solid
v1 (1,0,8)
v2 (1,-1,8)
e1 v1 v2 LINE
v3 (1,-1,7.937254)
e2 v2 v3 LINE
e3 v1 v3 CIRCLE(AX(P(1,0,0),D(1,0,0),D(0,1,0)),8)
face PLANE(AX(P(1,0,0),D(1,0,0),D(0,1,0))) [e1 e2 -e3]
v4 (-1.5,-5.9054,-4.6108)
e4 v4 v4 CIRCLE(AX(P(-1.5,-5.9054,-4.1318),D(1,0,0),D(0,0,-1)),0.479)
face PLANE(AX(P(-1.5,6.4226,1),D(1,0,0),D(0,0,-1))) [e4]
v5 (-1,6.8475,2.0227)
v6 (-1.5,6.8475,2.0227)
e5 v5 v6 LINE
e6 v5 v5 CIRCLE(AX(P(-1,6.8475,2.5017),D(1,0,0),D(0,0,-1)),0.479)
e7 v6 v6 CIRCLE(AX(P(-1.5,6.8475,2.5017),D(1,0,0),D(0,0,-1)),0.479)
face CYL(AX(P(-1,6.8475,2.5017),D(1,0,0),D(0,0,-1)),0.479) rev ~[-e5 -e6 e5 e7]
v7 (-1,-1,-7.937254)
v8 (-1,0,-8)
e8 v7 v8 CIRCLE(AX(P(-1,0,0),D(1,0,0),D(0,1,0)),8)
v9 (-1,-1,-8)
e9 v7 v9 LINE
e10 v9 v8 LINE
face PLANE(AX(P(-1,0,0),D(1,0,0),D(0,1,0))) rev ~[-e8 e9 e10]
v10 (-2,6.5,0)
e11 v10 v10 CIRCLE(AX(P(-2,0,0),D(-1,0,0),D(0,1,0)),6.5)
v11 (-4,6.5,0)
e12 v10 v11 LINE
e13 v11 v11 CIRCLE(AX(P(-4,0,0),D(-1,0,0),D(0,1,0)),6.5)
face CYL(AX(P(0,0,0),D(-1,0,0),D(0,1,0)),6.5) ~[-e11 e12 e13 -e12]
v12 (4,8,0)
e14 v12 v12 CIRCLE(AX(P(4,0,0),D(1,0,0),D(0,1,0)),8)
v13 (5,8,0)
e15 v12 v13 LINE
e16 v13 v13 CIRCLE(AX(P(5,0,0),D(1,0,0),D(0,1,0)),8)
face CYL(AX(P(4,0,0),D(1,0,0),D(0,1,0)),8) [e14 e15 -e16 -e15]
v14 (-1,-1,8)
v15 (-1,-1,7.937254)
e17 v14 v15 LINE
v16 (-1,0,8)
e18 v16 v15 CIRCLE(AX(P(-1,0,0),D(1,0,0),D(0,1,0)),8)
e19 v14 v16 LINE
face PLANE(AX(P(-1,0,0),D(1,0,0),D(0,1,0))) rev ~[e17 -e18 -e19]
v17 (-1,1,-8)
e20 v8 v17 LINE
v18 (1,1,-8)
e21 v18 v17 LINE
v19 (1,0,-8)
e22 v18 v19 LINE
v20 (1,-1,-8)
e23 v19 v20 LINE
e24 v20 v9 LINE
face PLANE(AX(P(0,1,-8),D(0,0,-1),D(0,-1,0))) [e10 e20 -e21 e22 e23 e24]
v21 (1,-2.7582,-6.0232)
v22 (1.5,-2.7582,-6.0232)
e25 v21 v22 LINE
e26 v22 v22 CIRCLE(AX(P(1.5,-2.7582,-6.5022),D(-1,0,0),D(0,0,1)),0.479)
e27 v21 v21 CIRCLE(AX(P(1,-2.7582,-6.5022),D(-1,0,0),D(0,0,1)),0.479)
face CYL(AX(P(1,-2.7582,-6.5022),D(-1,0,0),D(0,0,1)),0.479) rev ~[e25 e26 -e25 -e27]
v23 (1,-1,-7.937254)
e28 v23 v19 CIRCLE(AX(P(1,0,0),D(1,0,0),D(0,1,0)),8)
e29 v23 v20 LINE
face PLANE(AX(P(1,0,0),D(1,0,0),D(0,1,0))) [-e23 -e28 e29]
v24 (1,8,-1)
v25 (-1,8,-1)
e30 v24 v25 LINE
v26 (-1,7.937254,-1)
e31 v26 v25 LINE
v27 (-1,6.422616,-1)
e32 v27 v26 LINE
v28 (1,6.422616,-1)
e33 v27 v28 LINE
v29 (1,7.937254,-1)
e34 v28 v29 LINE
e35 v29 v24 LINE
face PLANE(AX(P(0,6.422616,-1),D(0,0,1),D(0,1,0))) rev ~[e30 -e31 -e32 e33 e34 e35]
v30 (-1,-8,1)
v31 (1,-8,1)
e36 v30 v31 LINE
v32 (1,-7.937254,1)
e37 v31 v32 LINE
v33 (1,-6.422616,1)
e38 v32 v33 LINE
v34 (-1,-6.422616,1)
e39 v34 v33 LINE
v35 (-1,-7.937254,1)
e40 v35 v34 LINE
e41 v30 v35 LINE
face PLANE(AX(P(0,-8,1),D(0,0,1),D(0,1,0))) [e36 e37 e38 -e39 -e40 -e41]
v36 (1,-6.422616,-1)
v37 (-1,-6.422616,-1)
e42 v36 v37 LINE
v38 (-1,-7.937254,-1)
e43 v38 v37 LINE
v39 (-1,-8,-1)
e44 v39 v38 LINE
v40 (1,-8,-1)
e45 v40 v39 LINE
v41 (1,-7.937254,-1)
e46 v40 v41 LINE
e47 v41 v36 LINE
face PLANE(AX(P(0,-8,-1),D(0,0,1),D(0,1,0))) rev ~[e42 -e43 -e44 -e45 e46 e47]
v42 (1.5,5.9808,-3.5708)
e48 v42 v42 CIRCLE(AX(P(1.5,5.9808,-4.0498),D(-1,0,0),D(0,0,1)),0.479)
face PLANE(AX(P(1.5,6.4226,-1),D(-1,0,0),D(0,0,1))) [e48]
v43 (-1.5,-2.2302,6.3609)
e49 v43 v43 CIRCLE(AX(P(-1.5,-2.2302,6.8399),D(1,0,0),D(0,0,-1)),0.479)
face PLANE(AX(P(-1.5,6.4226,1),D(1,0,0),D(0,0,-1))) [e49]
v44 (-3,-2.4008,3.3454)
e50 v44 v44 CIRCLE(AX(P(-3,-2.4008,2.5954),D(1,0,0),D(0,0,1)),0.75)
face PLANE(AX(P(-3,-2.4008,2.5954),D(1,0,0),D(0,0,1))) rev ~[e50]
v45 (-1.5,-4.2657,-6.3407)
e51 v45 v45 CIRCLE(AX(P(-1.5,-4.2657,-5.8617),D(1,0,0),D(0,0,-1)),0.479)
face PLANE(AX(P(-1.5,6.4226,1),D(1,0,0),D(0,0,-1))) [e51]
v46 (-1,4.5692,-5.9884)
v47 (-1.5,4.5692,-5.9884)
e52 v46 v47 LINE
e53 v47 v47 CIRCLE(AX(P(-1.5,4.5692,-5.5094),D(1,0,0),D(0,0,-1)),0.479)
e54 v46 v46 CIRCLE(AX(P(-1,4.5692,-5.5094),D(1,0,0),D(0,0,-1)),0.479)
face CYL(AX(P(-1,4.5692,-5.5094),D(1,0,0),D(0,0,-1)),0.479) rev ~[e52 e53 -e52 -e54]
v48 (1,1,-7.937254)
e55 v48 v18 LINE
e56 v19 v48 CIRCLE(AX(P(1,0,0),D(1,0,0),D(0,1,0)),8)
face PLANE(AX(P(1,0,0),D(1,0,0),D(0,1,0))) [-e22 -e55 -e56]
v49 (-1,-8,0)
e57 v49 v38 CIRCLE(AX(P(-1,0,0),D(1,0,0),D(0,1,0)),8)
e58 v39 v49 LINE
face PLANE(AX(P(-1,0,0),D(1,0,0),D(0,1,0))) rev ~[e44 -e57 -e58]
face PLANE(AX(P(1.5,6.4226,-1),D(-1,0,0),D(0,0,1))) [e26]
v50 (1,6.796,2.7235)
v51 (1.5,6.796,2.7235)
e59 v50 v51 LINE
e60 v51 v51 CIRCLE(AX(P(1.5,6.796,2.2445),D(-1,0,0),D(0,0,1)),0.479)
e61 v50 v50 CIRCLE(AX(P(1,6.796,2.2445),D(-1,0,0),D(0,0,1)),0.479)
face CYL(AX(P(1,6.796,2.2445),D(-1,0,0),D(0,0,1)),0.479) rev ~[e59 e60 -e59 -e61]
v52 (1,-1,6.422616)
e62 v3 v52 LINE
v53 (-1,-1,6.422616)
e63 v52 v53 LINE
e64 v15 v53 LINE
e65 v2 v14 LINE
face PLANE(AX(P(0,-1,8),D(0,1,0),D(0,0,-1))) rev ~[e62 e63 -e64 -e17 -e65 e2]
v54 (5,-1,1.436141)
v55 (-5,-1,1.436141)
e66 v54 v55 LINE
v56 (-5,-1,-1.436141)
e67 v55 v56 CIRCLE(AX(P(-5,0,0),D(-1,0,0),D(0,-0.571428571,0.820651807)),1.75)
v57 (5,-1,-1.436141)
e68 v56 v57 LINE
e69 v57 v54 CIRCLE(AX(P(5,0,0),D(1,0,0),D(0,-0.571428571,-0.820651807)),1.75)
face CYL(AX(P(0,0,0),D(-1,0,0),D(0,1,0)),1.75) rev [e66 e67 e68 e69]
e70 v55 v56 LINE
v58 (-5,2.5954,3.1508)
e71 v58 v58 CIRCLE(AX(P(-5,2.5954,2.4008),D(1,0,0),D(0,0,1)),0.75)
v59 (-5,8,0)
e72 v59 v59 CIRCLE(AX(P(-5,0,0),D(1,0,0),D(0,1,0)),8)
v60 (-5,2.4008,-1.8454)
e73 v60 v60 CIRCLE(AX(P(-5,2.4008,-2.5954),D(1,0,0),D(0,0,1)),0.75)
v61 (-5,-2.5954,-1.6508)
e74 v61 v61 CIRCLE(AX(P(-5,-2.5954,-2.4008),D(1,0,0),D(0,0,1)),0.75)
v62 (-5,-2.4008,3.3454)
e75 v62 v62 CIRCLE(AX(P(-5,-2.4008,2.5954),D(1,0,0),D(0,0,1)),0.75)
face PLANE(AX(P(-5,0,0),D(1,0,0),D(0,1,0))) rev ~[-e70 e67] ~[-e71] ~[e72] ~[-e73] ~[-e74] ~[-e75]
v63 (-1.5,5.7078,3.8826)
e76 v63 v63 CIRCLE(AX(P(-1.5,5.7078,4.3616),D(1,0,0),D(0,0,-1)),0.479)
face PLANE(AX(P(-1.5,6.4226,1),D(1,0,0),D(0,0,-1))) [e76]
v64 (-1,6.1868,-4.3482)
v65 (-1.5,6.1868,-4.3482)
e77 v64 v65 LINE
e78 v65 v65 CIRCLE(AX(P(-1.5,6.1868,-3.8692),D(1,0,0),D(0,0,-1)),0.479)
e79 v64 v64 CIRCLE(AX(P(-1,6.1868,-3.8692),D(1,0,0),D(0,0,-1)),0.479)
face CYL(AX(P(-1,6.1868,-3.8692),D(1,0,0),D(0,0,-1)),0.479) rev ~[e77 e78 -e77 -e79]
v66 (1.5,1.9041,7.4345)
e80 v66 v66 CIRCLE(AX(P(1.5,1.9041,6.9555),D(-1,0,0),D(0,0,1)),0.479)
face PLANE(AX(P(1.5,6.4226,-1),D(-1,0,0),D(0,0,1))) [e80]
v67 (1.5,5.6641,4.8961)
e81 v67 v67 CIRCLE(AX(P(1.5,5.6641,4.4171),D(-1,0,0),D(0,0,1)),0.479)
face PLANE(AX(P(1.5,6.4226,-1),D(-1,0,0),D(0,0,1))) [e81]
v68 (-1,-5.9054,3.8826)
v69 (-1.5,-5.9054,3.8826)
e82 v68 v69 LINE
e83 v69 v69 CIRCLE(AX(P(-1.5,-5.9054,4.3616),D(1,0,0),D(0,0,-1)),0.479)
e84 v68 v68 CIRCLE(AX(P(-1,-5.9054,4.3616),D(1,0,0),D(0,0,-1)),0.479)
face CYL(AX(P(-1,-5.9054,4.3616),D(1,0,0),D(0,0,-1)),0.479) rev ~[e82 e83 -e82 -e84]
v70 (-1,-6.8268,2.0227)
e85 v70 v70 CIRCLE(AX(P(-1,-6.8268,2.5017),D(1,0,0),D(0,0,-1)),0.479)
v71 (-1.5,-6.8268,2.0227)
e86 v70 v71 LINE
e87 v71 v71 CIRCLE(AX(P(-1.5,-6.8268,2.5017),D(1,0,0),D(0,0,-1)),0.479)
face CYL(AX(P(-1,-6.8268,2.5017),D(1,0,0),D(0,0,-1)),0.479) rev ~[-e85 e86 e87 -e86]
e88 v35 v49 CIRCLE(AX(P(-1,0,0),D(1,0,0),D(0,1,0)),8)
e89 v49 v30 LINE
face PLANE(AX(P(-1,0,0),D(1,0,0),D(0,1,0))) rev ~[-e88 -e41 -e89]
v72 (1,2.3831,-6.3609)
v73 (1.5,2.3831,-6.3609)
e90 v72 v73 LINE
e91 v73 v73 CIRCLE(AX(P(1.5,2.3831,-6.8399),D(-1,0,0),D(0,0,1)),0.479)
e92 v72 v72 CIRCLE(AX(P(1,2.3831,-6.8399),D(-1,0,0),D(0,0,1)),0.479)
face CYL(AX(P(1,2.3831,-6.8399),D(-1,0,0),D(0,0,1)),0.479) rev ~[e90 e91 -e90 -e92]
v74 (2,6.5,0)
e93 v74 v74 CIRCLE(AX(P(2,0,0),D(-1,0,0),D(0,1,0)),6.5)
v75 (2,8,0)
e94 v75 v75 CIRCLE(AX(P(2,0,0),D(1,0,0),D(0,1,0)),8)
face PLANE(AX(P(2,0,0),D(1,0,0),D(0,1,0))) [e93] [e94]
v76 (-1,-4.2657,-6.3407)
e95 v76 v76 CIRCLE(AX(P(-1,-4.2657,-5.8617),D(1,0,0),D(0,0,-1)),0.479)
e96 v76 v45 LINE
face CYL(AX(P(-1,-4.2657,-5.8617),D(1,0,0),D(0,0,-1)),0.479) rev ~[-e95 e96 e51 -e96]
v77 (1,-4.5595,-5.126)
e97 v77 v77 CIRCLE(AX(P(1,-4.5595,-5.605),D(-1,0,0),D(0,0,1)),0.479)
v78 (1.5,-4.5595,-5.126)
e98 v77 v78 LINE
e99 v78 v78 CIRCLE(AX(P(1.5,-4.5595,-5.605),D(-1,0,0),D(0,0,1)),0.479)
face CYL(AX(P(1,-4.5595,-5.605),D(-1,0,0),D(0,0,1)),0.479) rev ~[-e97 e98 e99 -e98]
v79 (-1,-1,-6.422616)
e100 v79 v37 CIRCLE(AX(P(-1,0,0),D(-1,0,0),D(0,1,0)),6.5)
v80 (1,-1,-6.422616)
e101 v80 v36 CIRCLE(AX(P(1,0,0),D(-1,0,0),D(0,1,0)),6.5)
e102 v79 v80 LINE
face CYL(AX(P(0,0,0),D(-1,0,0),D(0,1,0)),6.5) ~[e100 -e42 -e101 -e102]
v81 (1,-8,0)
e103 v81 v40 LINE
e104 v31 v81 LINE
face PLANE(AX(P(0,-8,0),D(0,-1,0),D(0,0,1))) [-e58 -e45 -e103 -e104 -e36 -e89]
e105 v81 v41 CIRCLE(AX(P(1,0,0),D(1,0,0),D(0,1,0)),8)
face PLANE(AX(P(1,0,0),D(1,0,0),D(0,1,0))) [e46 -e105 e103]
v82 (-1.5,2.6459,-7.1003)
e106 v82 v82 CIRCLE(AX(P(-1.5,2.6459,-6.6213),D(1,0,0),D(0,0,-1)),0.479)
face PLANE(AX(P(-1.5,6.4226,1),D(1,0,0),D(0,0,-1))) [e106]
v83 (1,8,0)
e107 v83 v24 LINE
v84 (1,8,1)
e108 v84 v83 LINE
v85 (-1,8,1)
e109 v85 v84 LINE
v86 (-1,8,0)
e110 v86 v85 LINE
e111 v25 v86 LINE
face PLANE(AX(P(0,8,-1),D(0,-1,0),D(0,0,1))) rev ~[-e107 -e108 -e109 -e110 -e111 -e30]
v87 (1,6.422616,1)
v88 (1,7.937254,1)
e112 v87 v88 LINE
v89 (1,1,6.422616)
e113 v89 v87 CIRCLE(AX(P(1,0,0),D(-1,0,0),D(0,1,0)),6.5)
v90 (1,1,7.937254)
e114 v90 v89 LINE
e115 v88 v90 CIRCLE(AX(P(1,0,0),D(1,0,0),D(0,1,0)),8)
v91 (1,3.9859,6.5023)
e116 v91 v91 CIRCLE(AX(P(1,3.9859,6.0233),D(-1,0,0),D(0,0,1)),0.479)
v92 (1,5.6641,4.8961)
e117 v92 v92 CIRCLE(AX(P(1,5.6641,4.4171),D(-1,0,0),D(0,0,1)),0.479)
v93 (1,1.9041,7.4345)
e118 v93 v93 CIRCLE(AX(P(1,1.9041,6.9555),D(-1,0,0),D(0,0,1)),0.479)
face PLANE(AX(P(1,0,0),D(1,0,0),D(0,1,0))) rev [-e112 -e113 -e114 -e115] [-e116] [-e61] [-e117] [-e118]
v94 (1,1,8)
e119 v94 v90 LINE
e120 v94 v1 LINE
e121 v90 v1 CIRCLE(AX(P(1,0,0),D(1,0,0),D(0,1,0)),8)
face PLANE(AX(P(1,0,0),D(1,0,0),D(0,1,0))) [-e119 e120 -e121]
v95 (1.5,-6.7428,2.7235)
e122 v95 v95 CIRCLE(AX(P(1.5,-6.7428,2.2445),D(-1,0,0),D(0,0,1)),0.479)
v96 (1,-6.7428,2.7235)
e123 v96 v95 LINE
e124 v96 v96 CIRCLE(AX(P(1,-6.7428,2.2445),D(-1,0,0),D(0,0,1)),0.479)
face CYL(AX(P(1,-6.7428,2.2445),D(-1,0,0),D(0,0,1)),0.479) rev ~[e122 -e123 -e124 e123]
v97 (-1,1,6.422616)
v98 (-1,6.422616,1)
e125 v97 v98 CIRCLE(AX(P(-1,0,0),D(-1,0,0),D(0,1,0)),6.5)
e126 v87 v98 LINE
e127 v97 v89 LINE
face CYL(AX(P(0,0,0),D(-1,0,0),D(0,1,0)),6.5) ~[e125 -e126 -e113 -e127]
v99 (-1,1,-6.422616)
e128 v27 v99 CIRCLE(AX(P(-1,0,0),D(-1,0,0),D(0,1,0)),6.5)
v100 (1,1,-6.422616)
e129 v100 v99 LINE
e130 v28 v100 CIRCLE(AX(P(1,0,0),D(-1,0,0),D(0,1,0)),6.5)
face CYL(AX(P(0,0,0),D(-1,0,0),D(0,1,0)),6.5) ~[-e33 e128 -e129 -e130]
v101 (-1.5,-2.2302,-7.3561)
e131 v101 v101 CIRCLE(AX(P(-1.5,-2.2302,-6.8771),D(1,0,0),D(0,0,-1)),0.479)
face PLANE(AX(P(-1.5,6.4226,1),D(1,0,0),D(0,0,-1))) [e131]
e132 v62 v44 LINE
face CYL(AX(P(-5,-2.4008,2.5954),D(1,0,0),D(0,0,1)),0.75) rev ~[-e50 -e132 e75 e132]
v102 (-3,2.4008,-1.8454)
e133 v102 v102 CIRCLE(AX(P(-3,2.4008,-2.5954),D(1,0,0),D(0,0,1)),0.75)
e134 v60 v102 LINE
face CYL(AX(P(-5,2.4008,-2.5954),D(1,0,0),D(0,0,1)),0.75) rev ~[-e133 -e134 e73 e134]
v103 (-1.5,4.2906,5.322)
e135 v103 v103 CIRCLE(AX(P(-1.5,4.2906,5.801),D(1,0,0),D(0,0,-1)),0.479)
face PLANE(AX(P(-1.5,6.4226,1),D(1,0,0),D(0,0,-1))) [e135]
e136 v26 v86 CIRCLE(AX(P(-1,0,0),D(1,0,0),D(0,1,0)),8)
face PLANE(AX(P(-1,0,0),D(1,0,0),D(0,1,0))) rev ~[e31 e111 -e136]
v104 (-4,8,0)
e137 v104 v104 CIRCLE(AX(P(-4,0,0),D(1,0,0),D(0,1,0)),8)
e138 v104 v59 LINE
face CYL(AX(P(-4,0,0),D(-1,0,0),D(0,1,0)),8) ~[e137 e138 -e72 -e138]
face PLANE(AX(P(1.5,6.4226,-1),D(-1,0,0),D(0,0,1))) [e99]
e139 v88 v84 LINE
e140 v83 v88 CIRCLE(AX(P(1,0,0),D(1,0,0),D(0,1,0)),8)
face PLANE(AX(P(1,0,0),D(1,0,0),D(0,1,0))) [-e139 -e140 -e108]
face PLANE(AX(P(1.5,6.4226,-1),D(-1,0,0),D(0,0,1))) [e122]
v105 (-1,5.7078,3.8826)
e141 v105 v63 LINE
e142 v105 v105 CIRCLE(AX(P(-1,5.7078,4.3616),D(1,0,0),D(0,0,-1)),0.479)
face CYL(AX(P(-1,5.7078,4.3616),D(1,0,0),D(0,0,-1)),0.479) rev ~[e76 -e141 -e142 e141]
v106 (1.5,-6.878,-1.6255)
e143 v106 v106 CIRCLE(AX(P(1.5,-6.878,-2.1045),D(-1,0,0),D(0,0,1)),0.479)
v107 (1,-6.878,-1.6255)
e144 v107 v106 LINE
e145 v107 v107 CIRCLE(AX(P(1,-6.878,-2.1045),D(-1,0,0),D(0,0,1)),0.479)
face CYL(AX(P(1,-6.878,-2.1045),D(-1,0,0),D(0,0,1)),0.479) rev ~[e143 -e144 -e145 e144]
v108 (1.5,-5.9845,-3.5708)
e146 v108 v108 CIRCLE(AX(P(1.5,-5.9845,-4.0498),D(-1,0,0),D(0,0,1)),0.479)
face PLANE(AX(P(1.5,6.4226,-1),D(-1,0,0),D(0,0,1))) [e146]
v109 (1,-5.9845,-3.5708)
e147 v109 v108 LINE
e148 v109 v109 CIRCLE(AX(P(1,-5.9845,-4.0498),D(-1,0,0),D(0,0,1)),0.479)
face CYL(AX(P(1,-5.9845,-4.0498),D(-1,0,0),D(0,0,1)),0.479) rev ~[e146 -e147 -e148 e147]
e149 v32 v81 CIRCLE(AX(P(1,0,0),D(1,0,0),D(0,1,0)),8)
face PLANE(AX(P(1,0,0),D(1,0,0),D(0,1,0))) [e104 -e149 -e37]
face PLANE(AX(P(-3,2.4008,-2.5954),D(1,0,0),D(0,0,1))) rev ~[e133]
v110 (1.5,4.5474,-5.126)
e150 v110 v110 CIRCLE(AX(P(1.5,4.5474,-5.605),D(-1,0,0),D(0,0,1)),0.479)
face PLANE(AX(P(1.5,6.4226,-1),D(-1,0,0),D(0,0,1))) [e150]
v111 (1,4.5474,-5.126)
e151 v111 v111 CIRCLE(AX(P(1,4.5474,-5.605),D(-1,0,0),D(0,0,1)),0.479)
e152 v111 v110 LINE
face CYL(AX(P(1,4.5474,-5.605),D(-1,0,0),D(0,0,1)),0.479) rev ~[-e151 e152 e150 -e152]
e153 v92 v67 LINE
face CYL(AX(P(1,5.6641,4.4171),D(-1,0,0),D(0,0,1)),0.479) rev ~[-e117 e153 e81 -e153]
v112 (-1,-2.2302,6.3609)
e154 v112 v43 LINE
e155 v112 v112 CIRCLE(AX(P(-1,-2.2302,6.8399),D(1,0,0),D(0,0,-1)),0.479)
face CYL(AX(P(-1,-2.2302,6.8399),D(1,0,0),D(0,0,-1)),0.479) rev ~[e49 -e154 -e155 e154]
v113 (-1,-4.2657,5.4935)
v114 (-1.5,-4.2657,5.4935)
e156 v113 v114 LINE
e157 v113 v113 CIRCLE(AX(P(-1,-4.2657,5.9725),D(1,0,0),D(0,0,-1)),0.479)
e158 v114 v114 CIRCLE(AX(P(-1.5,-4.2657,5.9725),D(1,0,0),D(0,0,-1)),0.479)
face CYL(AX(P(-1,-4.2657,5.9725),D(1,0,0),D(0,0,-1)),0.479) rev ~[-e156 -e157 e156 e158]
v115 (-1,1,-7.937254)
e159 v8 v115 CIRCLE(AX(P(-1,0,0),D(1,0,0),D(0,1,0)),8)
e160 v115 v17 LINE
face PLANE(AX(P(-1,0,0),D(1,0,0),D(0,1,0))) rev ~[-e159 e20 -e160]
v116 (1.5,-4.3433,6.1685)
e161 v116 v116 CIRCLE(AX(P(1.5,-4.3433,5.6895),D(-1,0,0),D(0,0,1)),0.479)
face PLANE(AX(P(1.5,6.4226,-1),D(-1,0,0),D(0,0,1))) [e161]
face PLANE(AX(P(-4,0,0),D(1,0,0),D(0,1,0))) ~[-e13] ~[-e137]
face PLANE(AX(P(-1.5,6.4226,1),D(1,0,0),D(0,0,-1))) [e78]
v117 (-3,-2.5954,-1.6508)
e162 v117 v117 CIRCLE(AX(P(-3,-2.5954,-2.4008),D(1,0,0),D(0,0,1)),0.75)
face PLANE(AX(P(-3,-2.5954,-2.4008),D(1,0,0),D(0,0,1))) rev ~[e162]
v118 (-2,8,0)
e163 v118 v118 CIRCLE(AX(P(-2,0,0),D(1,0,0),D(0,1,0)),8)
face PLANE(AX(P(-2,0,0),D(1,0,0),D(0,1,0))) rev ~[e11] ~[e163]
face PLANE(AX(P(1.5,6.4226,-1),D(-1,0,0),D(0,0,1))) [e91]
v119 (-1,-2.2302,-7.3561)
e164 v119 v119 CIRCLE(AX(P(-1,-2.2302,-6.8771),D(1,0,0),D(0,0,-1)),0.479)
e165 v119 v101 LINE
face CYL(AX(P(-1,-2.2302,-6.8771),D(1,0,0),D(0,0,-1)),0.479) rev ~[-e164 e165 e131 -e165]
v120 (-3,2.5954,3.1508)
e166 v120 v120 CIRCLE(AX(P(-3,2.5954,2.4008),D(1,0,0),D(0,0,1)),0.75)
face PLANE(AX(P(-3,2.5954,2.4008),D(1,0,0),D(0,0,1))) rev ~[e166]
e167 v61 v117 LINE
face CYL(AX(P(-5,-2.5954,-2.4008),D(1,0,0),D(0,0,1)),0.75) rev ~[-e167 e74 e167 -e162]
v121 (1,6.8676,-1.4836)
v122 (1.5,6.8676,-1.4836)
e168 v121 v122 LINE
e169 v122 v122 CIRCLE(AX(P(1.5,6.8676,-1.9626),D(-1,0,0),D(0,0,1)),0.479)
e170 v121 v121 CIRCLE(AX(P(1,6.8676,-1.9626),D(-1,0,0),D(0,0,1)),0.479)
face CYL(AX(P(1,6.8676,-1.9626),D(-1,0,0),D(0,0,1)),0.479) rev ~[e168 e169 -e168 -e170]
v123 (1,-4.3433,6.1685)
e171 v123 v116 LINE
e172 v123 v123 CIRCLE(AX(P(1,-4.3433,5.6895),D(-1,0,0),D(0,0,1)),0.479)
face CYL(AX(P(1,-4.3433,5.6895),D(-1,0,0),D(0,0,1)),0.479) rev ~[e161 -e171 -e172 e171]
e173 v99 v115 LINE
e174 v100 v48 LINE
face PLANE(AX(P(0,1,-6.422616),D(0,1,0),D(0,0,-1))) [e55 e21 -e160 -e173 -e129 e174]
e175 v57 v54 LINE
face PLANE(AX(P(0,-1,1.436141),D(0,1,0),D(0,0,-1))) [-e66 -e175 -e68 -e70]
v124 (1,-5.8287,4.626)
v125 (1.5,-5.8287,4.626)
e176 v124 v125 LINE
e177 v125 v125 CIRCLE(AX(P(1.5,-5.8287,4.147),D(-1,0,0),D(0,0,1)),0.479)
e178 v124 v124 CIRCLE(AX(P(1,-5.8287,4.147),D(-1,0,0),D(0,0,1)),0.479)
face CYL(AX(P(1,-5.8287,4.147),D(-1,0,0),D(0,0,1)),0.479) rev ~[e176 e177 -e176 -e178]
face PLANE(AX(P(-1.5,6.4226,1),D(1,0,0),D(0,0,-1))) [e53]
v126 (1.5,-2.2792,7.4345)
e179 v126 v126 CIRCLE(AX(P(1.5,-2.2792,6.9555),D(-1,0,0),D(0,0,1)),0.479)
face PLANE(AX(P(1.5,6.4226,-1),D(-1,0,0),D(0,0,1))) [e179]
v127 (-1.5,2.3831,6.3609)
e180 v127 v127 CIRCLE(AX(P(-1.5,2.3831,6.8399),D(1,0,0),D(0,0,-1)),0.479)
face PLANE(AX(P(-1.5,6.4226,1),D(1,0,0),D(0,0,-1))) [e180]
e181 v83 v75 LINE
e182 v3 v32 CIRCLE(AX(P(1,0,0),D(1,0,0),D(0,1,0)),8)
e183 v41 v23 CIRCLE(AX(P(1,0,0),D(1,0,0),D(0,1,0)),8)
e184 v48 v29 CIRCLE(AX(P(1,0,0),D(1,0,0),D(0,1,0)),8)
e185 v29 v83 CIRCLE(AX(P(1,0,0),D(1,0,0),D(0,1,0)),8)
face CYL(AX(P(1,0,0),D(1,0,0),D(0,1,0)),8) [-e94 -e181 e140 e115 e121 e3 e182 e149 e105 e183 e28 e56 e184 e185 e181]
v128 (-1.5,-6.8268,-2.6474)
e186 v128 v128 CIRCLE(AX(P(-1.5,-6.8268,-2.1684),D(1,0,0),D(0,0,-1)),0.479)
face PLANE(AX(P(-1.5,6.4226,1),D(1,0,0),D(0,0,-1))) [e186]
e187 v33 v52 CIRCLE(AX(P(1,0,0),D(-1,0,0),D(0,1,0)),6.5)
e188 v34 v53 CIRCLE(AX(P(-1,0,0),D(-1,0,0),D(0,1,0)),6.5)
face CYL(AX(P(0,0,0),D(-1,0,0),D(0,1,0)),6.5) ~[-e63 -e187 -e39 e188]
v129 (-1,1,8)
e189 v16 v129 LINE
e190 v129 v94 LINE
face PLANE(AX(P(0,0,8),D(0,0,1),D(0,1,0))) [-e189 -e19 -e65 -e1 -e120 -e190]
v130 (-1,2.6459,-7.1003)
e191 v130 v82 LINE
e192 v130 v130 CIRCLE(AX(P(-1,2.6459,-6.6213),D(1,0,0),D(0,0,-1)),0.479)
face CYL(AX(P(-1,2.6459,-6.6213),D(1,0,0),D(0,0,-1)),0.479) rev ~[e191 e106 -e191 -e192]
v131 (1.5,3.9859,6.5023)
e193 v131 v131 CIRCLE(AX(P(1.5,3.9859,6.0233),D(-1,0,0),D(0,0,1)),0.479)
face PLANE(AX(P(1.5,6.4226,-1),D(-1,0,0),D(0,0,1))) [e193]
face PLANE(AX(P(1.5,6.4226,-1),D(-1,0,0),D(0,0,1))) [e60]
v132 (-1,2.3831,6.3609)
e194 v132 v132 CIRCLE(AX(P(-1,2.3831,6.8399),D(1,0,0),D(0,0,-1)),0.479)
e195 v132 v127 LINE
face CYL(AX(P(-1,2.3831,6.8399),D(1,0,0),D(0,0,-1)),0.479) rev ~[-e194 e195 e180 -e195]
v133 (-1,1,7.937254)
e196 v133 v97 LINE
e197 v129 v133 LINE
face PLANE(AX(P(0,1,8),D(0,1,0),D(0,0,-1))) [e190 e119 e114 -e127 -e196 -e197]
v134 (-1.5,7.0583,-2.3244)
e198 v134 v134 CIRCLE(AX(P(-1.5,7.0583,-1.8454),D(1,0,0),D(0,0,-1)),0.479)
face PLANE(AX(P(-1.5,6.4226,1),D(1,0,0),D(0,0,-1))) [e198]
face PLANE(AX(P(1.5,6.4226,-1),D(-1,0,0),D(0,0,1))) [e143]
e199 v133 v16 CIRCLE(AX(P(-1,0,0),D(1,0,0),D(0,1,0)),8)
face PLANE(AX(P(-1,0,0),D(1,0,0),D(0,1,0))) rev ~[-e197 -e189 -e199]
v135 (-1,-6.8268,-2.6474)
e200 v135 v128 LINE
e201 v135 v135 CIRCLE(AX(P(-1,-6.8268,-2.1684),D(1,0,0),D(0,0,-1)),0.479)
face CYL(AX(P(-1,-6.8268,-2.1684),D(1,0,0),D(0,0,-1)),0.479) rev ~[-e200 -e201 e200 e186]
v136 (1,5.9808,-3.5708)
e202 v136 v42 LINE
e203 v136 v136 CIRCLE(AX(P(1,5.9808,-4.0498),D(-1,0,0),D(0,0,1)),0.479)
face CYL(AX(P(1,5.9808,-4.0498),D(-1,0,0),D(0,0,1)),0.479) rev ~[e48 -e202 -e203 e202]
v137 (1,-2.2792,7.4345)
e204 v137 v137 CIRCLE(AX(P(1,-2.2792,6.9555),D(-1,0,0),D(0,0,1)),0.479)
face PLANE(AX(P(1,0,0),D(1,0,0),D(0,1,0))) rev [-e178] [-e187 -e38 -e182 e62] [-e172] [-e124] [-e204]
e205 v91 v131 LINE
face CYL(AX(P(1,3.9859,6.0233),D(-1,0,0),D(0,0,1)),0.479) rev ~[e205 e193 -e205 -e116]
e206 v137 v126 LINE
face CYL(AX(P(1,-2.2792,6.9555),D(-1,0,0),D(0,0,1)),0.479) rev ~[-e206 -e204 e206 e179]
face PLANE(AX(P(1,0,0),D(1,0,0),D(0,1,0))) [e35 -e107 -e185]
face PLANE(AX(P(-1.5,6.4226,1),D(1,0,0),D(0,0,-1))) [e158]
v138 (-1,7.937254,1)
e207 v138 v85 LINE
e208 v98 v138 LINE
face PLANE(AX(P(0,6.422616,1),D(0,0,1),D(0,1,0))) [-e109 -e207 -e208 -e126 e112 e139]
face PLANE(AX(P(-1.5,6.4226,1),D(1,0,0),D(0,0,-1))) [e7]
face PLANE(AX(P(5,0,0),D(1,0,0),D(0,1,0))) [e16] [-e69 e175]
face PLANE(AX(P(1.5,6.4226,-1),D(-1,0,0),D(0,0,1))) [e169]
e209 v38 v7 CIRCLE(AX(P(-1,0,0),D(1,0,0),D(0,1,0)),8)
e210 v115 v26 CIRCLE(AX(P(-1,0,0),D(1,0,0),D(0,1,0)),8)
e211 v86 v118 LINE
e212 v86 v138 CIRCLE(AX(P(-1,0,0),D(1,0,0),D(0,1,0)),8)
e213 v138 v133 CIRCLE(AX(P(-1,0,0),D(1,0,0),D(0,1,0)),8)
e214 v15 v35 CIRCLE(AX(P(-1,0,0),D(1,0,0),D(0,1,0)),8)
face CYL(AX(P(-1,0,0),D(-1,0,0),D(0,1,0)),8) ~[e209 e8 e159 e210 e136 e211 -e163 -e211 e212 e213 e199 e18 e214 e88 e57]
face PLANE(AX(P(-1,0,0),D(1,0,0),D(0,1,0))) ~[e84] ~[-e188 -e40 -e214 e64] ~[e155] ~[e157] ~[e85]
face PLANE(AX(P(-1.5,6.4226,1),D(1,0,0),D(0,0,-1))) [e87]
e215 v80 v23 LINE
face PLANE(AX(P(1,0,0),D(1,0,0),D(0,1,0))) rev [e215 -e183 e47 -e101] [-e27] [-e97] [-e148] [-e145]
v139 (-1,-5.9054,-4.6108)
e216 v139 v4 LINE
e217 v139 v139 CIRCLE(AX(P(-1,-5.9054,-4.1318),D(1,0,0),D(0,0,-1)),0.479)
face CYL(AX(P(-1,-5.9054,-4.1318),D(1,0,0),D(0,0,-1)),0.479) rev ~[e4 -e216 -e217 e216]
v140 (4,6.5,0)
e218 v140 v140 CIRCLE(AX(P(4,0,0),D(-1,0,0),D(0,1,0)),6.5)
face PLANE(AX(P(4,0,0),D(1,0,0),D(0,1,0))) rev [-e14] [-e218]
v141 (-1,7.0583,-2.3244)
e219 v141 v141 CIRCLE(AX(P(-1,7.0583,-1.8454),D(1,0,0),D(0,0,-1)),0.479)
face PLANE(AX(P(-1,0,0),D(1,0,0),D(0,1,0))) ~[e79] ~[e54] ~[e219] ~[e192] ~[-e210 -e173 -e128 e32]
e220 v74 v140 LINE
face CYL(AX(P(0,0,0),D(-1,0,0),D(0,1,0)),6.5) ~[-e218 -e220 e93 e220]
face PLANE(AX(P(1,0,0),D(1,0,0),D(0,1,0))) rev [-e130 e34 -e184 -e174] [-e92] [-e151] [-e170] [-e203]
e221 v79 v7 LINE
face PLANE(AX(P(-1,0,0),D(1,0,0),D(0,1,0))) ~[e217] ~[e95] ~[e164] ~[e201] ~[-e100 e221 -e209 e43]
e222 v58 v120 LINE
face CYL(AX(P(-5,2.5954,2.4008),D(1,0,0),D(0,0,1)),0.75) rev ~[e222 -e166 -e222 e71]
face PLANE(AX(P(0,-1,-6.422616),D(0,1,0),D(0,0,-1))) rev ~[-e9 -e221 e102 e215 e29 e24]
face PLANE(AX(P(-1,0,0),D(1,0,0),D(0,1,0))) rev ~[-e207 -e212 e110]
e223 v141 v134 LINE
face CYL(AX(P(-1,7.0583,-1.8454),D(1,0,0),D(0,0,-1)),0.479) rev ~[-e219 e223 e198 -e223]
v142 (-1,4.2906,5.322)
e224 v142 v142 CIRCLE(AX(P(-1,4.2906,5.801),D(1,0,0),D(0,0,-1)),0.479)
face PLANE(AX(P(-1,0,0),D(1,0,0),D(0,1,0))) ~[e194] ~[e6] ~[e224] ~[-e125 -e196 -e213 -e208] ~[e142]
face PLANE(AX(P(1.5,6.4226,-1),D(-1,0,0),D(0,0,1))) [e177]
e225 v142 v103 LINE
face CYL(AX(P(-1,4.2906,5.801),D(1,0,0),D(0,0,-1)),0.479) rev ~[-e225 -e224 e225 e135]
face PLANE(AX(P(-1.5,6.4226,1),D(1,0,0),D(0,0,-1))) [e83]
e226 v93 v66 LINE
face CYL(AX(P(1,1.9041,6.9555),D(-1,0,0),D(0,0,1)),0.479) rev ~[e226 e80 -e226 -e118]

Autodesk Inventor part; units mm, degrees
ref_plane "YZ Plane" through (0, 0, 0) normal (1, 0, 0) x (0, 1, 0)
ref_plane "XZ Plane" through (0, 0, 0) normal (0, 1, 0) x (-1, 0, 0)
ref_plane "XY Plane" through (0, 0, 0) normal (0, 0, 1) x (1, 0, 0)
sketch "Szkic1" plane through (0, 0, 0) normal (1, 0, 0) x (0, 1, 0)
  circle A0 centre (0, 0) radius 6.5
  circle A1 centre (0, 0) radius 1.75
  line L0 (0, 1.75) -> (0, -1.0846)
  line L1 (-1, 1.9718) -> (-1, -1.0846)
  line L2 (8, 0) -> (-8, 0)
  line L3 (-8, 0) -> (-8, -1)
  line L4 (-8, -1) -> (8, -1)
  line L5 (8, -1) -> (8, 0)
  line L6 (8, 0) -> (-8, 0)
  line L7 (-8, 0) -> (-8, 1)
  line L8 (-8, 1) -> (8, 1)
  line L9 (8, 1) -> (8, 0)
  line L10 (0, 8) -> (1, 8)
  line L11 (1, 8) -> (1, -8)
  line L12 (1, -8) -> (0, -8)
  line L13 (0, 8) -> (-1, 8)
  line L14 (-1, 8) -> (-1, -8)
  line L15 (-1, -8) -> (0, -8)
  line L16 (0, -8) -> (0, 8)
  point P0 (-1, -1.4361)
  point P1 (-1, 1.4361)
  point P2 (-6.4226, -1)
  point P3 (-6.4226, 1)
  point P4 (1, -6.4226)
  point P5 (-1, -6.4226)
  point P6 (6.4226, 1)
  point P7 (6.4226, -1)
  point P8 (-1, 6.4226)
  point P9 (1, 6.4226)
  dimension "d1" = 3.5
  dimension "d0" = 13
  dimension "d2" = 1
  dimension "d14" = 16
  dimension "d16" = 16
  dimension "d18" = 2
  dimension "d19" = 2
sketch "Szkic2" plane through (0, 0, 0) normal (0, 0, 1) x (1, 0, 0)
  line L0 (0, 0) -> (5, 0)
  line L1 (5, 0) -> (5, 6)
  line L2 (5, 6) -> (0, 6)
  line L3 (0, 6) -> (0, 0)
  line L4 (0, 0) -> (-5, 0)
  line L5 (-5, 0) -> (-5, 6)
  line L6 (-5, 6) -> (0, 6)
  line L7 (0, 6) -> (0, 0)
  line L8 (0, 0) -> (5, 0)
  line L9 (5, 0) -> (5, -6)
  line L10 (5, -6) -> (0, -6)
  line L11 (0, -6) -> (0, 0)
  line L12 (0, 0) -> (-5, 0)
  line L13 (-5, 0) -> (-5, -6)
  line L14 (-5, -6) -> (0, -6)
  line L15 (0, -6) -> (0, 0)
  line L16 (5, 6) -> (4, 6)
  line L17 (4, 6) -> (4, 8)
  line L18 (4, 8) -> (5, 8)
  line L19 (5, 8) -> (5, 6)
  line L20 (2, 6) -> (1, 6)
  line L21 (1, 6) -> (1, 8)
  line L22 (1, 8) -> (2, 8)
  line L23 (2, 8) -> (2, 6)
  line L24 (-5, 6) -> (-4, 6)
  line L25 (-4, 6) -> (-4, 8)
  line L26 (-4, 8) -> (-5, 8)
  line L27 (-5, 8) -> (-5, 6)
  line L28 (-2, 6) -> (-1, 6)
  line L29 (-1, 6) -> (-1, 8)
  line L30 (-1, 8) -> (-2, 8)
  line L31 (-2, 8) -> (-2, 6)
  point P0 (-1, 6)
  point P1 (1, 6)
  point P2 (0, 6)
  dimension "d3" = 5
  dimension "d4" = 6
  dimension "d5" = 10
  dimension "d6" = 12
  dimension "d7" = 1
  dimension "d8" = 2
  dimension "d9" = 1
  dimension "d10" = 1
  dimension "d11" = 2
  dimension "d12" = 1
  dimension "d13" = 2
extrude "Wyciągnięcie proste1" add sketch "Szkic1" along normal mid plane 10 contours L2 A1 L8 A0 | A0 L4 A1 L2 | L8 A1 L11 A0 | A0 L11 A1 L4 | L11 A1 L16 A0 | A0 L16 A1 L11 | L16 A1 L1 L14 A0 | A0 L14 A1 L16 | L14 L1 A1 L8 A0 | A0 L4 A1 L14 | L2 A1 L8 L1 | L1 L4 A1 L2 | L8 A1 L2 A0 | L1 L8 A1 | A0 L2 A1 L4 | A1 L4 L1 L14
extrude "Wyciągnięcie proste2" add sketch "Szkic1" along normal mid plane 2 contours L2 L5 L4 A0 | A0 L8 L9 L2 | A0 L16 L10 L11 | L11 L12 L16 A0 | A0 L14 L13 L16 | L16 L15 L14 A0 | A0 L2 L7 L8 | L4 L3 L2 A0
revolve "Obrót1" add sketch "Szkic2" angle 360 about axis through (0, 0, 0) along (1, 0, 0) contours L2 L17 L18 L19 | L21 L22 L23 L2 | L6 L31 L30 L29 | L27 L26 L25 L6
sketch "Sketch3" plane through (-5, 0, 0) normal (-1, 0, 0) x (0, 0, 1)
  circle A0 centre (0, 0) radius 3.5355
  point P0 (2.4008, 2.5954)
  point P1 (-2.5954, 2.4008)
  point P2 (-2.4008, -2.5954)
  point P3 (2.5954, -2.4008)
  dimension "d25" = 7.071
  dimension "d28" = 360
hole "Hole2" at (-5, 2.5954, 2.4008) at (-5, 2.4008, -2.5954) at (-5, -2.5954, -2.4008) at (-5, -2.4008, 2.5954) direction (1, 0, 0) diameter 1.5 depth 2
sketch "Szkic4" plane through (1, 6.4226, -1) normal (-1, 0, 0) x (0, 0, 1)
  circle A0 centre (-4.605, -1.8752) radius 0.479
  circle A1 centre (-3.0498, -0.4418) radius 0.479
  circle A2 centre (-0.9626, 0.445) radius 0.479
  circle A3 centre (-5.8399, -4.0395) radius 0.479
  circle A4 centre (3.2445, 0.3734) radius 0.479
  circle A5 centre (5.4171, -0.7585) radius 0.479
  circle A6 centre (7.0233, -2.4367) radius 0.479
  circle A7 centre (7.9555, -4.5185) radius 0.479
  circle A8 centre (7.9555, -8.7018) radius 0.479
  circle A9 centre (6.6895, -10.7659) radius 0.479
  circle A10 centre (5.147, -12.2513) radius 0.479
  circle A11 centre (3.2445, -13.1654) radius 0.479
  circle A12 centre (-1.1045, -13.3006) radius 0.479
  circle A13 centre (-3.0498, -12.4071) radius 0.479
  circle A14 centre (-5.5022, -9.1808) radius 0.479
  circle A15 centre (-4.605, -10.9821) radius 0.479
  point P0 (1, -6.4226)
extrude "Wyciągnięcie proste3" cut sketch "Szkic4" against normal blind 0.5
sketch "Szkic5" plane through (-1, 6.4226, 1) normal (1, 0, 0) x (0, 0, -1)
  circle A0 centre (-5.8399, -4.0395) radius 0.479
  circle A1 centre (-4.801, -2.132) radius 0.479
  circle A2 centre (-3.3616, -0.7148) radius 0.479
  circle A3 centre (-1.5017, 0.4249) radius 0.479
  circle A4 centre (2.8454, 0.6357) radius 0.479
  circle A5 centre (4.8692, -0.2358) radius 0.479
  circle A6 centre (6.5094, -1.8534) radius 0.479
  circle A7 centre (7.6213, -3.7767) radius 0.479
  circle A8 centre (7.8771, -8.6528) radius 0.479
  circle A9 centre (6.8617, -10.6883) radius 0.479
  circle A10 centre (5.1318, -12.328) radius 0.479
  circle A11 centre (3.1684, -13.2494) radius 0.479
  circle A12 centre (-1.5017, -13.2494) radius 0.479
  circle A13 centre (-3.3616, -12.328) radius 0.479
  circle A14 centre (-4.9725, -10.6883) radius 0.479
  circle A15 centre (-5.8399, -8.6528) radius 0.479
  point P0 (1, -6.4226)
extrude "Wyciągnięcie proste4" cut sketch "Szkic5" against normal blind 0.5
properties part number "Poprawione_koło"
